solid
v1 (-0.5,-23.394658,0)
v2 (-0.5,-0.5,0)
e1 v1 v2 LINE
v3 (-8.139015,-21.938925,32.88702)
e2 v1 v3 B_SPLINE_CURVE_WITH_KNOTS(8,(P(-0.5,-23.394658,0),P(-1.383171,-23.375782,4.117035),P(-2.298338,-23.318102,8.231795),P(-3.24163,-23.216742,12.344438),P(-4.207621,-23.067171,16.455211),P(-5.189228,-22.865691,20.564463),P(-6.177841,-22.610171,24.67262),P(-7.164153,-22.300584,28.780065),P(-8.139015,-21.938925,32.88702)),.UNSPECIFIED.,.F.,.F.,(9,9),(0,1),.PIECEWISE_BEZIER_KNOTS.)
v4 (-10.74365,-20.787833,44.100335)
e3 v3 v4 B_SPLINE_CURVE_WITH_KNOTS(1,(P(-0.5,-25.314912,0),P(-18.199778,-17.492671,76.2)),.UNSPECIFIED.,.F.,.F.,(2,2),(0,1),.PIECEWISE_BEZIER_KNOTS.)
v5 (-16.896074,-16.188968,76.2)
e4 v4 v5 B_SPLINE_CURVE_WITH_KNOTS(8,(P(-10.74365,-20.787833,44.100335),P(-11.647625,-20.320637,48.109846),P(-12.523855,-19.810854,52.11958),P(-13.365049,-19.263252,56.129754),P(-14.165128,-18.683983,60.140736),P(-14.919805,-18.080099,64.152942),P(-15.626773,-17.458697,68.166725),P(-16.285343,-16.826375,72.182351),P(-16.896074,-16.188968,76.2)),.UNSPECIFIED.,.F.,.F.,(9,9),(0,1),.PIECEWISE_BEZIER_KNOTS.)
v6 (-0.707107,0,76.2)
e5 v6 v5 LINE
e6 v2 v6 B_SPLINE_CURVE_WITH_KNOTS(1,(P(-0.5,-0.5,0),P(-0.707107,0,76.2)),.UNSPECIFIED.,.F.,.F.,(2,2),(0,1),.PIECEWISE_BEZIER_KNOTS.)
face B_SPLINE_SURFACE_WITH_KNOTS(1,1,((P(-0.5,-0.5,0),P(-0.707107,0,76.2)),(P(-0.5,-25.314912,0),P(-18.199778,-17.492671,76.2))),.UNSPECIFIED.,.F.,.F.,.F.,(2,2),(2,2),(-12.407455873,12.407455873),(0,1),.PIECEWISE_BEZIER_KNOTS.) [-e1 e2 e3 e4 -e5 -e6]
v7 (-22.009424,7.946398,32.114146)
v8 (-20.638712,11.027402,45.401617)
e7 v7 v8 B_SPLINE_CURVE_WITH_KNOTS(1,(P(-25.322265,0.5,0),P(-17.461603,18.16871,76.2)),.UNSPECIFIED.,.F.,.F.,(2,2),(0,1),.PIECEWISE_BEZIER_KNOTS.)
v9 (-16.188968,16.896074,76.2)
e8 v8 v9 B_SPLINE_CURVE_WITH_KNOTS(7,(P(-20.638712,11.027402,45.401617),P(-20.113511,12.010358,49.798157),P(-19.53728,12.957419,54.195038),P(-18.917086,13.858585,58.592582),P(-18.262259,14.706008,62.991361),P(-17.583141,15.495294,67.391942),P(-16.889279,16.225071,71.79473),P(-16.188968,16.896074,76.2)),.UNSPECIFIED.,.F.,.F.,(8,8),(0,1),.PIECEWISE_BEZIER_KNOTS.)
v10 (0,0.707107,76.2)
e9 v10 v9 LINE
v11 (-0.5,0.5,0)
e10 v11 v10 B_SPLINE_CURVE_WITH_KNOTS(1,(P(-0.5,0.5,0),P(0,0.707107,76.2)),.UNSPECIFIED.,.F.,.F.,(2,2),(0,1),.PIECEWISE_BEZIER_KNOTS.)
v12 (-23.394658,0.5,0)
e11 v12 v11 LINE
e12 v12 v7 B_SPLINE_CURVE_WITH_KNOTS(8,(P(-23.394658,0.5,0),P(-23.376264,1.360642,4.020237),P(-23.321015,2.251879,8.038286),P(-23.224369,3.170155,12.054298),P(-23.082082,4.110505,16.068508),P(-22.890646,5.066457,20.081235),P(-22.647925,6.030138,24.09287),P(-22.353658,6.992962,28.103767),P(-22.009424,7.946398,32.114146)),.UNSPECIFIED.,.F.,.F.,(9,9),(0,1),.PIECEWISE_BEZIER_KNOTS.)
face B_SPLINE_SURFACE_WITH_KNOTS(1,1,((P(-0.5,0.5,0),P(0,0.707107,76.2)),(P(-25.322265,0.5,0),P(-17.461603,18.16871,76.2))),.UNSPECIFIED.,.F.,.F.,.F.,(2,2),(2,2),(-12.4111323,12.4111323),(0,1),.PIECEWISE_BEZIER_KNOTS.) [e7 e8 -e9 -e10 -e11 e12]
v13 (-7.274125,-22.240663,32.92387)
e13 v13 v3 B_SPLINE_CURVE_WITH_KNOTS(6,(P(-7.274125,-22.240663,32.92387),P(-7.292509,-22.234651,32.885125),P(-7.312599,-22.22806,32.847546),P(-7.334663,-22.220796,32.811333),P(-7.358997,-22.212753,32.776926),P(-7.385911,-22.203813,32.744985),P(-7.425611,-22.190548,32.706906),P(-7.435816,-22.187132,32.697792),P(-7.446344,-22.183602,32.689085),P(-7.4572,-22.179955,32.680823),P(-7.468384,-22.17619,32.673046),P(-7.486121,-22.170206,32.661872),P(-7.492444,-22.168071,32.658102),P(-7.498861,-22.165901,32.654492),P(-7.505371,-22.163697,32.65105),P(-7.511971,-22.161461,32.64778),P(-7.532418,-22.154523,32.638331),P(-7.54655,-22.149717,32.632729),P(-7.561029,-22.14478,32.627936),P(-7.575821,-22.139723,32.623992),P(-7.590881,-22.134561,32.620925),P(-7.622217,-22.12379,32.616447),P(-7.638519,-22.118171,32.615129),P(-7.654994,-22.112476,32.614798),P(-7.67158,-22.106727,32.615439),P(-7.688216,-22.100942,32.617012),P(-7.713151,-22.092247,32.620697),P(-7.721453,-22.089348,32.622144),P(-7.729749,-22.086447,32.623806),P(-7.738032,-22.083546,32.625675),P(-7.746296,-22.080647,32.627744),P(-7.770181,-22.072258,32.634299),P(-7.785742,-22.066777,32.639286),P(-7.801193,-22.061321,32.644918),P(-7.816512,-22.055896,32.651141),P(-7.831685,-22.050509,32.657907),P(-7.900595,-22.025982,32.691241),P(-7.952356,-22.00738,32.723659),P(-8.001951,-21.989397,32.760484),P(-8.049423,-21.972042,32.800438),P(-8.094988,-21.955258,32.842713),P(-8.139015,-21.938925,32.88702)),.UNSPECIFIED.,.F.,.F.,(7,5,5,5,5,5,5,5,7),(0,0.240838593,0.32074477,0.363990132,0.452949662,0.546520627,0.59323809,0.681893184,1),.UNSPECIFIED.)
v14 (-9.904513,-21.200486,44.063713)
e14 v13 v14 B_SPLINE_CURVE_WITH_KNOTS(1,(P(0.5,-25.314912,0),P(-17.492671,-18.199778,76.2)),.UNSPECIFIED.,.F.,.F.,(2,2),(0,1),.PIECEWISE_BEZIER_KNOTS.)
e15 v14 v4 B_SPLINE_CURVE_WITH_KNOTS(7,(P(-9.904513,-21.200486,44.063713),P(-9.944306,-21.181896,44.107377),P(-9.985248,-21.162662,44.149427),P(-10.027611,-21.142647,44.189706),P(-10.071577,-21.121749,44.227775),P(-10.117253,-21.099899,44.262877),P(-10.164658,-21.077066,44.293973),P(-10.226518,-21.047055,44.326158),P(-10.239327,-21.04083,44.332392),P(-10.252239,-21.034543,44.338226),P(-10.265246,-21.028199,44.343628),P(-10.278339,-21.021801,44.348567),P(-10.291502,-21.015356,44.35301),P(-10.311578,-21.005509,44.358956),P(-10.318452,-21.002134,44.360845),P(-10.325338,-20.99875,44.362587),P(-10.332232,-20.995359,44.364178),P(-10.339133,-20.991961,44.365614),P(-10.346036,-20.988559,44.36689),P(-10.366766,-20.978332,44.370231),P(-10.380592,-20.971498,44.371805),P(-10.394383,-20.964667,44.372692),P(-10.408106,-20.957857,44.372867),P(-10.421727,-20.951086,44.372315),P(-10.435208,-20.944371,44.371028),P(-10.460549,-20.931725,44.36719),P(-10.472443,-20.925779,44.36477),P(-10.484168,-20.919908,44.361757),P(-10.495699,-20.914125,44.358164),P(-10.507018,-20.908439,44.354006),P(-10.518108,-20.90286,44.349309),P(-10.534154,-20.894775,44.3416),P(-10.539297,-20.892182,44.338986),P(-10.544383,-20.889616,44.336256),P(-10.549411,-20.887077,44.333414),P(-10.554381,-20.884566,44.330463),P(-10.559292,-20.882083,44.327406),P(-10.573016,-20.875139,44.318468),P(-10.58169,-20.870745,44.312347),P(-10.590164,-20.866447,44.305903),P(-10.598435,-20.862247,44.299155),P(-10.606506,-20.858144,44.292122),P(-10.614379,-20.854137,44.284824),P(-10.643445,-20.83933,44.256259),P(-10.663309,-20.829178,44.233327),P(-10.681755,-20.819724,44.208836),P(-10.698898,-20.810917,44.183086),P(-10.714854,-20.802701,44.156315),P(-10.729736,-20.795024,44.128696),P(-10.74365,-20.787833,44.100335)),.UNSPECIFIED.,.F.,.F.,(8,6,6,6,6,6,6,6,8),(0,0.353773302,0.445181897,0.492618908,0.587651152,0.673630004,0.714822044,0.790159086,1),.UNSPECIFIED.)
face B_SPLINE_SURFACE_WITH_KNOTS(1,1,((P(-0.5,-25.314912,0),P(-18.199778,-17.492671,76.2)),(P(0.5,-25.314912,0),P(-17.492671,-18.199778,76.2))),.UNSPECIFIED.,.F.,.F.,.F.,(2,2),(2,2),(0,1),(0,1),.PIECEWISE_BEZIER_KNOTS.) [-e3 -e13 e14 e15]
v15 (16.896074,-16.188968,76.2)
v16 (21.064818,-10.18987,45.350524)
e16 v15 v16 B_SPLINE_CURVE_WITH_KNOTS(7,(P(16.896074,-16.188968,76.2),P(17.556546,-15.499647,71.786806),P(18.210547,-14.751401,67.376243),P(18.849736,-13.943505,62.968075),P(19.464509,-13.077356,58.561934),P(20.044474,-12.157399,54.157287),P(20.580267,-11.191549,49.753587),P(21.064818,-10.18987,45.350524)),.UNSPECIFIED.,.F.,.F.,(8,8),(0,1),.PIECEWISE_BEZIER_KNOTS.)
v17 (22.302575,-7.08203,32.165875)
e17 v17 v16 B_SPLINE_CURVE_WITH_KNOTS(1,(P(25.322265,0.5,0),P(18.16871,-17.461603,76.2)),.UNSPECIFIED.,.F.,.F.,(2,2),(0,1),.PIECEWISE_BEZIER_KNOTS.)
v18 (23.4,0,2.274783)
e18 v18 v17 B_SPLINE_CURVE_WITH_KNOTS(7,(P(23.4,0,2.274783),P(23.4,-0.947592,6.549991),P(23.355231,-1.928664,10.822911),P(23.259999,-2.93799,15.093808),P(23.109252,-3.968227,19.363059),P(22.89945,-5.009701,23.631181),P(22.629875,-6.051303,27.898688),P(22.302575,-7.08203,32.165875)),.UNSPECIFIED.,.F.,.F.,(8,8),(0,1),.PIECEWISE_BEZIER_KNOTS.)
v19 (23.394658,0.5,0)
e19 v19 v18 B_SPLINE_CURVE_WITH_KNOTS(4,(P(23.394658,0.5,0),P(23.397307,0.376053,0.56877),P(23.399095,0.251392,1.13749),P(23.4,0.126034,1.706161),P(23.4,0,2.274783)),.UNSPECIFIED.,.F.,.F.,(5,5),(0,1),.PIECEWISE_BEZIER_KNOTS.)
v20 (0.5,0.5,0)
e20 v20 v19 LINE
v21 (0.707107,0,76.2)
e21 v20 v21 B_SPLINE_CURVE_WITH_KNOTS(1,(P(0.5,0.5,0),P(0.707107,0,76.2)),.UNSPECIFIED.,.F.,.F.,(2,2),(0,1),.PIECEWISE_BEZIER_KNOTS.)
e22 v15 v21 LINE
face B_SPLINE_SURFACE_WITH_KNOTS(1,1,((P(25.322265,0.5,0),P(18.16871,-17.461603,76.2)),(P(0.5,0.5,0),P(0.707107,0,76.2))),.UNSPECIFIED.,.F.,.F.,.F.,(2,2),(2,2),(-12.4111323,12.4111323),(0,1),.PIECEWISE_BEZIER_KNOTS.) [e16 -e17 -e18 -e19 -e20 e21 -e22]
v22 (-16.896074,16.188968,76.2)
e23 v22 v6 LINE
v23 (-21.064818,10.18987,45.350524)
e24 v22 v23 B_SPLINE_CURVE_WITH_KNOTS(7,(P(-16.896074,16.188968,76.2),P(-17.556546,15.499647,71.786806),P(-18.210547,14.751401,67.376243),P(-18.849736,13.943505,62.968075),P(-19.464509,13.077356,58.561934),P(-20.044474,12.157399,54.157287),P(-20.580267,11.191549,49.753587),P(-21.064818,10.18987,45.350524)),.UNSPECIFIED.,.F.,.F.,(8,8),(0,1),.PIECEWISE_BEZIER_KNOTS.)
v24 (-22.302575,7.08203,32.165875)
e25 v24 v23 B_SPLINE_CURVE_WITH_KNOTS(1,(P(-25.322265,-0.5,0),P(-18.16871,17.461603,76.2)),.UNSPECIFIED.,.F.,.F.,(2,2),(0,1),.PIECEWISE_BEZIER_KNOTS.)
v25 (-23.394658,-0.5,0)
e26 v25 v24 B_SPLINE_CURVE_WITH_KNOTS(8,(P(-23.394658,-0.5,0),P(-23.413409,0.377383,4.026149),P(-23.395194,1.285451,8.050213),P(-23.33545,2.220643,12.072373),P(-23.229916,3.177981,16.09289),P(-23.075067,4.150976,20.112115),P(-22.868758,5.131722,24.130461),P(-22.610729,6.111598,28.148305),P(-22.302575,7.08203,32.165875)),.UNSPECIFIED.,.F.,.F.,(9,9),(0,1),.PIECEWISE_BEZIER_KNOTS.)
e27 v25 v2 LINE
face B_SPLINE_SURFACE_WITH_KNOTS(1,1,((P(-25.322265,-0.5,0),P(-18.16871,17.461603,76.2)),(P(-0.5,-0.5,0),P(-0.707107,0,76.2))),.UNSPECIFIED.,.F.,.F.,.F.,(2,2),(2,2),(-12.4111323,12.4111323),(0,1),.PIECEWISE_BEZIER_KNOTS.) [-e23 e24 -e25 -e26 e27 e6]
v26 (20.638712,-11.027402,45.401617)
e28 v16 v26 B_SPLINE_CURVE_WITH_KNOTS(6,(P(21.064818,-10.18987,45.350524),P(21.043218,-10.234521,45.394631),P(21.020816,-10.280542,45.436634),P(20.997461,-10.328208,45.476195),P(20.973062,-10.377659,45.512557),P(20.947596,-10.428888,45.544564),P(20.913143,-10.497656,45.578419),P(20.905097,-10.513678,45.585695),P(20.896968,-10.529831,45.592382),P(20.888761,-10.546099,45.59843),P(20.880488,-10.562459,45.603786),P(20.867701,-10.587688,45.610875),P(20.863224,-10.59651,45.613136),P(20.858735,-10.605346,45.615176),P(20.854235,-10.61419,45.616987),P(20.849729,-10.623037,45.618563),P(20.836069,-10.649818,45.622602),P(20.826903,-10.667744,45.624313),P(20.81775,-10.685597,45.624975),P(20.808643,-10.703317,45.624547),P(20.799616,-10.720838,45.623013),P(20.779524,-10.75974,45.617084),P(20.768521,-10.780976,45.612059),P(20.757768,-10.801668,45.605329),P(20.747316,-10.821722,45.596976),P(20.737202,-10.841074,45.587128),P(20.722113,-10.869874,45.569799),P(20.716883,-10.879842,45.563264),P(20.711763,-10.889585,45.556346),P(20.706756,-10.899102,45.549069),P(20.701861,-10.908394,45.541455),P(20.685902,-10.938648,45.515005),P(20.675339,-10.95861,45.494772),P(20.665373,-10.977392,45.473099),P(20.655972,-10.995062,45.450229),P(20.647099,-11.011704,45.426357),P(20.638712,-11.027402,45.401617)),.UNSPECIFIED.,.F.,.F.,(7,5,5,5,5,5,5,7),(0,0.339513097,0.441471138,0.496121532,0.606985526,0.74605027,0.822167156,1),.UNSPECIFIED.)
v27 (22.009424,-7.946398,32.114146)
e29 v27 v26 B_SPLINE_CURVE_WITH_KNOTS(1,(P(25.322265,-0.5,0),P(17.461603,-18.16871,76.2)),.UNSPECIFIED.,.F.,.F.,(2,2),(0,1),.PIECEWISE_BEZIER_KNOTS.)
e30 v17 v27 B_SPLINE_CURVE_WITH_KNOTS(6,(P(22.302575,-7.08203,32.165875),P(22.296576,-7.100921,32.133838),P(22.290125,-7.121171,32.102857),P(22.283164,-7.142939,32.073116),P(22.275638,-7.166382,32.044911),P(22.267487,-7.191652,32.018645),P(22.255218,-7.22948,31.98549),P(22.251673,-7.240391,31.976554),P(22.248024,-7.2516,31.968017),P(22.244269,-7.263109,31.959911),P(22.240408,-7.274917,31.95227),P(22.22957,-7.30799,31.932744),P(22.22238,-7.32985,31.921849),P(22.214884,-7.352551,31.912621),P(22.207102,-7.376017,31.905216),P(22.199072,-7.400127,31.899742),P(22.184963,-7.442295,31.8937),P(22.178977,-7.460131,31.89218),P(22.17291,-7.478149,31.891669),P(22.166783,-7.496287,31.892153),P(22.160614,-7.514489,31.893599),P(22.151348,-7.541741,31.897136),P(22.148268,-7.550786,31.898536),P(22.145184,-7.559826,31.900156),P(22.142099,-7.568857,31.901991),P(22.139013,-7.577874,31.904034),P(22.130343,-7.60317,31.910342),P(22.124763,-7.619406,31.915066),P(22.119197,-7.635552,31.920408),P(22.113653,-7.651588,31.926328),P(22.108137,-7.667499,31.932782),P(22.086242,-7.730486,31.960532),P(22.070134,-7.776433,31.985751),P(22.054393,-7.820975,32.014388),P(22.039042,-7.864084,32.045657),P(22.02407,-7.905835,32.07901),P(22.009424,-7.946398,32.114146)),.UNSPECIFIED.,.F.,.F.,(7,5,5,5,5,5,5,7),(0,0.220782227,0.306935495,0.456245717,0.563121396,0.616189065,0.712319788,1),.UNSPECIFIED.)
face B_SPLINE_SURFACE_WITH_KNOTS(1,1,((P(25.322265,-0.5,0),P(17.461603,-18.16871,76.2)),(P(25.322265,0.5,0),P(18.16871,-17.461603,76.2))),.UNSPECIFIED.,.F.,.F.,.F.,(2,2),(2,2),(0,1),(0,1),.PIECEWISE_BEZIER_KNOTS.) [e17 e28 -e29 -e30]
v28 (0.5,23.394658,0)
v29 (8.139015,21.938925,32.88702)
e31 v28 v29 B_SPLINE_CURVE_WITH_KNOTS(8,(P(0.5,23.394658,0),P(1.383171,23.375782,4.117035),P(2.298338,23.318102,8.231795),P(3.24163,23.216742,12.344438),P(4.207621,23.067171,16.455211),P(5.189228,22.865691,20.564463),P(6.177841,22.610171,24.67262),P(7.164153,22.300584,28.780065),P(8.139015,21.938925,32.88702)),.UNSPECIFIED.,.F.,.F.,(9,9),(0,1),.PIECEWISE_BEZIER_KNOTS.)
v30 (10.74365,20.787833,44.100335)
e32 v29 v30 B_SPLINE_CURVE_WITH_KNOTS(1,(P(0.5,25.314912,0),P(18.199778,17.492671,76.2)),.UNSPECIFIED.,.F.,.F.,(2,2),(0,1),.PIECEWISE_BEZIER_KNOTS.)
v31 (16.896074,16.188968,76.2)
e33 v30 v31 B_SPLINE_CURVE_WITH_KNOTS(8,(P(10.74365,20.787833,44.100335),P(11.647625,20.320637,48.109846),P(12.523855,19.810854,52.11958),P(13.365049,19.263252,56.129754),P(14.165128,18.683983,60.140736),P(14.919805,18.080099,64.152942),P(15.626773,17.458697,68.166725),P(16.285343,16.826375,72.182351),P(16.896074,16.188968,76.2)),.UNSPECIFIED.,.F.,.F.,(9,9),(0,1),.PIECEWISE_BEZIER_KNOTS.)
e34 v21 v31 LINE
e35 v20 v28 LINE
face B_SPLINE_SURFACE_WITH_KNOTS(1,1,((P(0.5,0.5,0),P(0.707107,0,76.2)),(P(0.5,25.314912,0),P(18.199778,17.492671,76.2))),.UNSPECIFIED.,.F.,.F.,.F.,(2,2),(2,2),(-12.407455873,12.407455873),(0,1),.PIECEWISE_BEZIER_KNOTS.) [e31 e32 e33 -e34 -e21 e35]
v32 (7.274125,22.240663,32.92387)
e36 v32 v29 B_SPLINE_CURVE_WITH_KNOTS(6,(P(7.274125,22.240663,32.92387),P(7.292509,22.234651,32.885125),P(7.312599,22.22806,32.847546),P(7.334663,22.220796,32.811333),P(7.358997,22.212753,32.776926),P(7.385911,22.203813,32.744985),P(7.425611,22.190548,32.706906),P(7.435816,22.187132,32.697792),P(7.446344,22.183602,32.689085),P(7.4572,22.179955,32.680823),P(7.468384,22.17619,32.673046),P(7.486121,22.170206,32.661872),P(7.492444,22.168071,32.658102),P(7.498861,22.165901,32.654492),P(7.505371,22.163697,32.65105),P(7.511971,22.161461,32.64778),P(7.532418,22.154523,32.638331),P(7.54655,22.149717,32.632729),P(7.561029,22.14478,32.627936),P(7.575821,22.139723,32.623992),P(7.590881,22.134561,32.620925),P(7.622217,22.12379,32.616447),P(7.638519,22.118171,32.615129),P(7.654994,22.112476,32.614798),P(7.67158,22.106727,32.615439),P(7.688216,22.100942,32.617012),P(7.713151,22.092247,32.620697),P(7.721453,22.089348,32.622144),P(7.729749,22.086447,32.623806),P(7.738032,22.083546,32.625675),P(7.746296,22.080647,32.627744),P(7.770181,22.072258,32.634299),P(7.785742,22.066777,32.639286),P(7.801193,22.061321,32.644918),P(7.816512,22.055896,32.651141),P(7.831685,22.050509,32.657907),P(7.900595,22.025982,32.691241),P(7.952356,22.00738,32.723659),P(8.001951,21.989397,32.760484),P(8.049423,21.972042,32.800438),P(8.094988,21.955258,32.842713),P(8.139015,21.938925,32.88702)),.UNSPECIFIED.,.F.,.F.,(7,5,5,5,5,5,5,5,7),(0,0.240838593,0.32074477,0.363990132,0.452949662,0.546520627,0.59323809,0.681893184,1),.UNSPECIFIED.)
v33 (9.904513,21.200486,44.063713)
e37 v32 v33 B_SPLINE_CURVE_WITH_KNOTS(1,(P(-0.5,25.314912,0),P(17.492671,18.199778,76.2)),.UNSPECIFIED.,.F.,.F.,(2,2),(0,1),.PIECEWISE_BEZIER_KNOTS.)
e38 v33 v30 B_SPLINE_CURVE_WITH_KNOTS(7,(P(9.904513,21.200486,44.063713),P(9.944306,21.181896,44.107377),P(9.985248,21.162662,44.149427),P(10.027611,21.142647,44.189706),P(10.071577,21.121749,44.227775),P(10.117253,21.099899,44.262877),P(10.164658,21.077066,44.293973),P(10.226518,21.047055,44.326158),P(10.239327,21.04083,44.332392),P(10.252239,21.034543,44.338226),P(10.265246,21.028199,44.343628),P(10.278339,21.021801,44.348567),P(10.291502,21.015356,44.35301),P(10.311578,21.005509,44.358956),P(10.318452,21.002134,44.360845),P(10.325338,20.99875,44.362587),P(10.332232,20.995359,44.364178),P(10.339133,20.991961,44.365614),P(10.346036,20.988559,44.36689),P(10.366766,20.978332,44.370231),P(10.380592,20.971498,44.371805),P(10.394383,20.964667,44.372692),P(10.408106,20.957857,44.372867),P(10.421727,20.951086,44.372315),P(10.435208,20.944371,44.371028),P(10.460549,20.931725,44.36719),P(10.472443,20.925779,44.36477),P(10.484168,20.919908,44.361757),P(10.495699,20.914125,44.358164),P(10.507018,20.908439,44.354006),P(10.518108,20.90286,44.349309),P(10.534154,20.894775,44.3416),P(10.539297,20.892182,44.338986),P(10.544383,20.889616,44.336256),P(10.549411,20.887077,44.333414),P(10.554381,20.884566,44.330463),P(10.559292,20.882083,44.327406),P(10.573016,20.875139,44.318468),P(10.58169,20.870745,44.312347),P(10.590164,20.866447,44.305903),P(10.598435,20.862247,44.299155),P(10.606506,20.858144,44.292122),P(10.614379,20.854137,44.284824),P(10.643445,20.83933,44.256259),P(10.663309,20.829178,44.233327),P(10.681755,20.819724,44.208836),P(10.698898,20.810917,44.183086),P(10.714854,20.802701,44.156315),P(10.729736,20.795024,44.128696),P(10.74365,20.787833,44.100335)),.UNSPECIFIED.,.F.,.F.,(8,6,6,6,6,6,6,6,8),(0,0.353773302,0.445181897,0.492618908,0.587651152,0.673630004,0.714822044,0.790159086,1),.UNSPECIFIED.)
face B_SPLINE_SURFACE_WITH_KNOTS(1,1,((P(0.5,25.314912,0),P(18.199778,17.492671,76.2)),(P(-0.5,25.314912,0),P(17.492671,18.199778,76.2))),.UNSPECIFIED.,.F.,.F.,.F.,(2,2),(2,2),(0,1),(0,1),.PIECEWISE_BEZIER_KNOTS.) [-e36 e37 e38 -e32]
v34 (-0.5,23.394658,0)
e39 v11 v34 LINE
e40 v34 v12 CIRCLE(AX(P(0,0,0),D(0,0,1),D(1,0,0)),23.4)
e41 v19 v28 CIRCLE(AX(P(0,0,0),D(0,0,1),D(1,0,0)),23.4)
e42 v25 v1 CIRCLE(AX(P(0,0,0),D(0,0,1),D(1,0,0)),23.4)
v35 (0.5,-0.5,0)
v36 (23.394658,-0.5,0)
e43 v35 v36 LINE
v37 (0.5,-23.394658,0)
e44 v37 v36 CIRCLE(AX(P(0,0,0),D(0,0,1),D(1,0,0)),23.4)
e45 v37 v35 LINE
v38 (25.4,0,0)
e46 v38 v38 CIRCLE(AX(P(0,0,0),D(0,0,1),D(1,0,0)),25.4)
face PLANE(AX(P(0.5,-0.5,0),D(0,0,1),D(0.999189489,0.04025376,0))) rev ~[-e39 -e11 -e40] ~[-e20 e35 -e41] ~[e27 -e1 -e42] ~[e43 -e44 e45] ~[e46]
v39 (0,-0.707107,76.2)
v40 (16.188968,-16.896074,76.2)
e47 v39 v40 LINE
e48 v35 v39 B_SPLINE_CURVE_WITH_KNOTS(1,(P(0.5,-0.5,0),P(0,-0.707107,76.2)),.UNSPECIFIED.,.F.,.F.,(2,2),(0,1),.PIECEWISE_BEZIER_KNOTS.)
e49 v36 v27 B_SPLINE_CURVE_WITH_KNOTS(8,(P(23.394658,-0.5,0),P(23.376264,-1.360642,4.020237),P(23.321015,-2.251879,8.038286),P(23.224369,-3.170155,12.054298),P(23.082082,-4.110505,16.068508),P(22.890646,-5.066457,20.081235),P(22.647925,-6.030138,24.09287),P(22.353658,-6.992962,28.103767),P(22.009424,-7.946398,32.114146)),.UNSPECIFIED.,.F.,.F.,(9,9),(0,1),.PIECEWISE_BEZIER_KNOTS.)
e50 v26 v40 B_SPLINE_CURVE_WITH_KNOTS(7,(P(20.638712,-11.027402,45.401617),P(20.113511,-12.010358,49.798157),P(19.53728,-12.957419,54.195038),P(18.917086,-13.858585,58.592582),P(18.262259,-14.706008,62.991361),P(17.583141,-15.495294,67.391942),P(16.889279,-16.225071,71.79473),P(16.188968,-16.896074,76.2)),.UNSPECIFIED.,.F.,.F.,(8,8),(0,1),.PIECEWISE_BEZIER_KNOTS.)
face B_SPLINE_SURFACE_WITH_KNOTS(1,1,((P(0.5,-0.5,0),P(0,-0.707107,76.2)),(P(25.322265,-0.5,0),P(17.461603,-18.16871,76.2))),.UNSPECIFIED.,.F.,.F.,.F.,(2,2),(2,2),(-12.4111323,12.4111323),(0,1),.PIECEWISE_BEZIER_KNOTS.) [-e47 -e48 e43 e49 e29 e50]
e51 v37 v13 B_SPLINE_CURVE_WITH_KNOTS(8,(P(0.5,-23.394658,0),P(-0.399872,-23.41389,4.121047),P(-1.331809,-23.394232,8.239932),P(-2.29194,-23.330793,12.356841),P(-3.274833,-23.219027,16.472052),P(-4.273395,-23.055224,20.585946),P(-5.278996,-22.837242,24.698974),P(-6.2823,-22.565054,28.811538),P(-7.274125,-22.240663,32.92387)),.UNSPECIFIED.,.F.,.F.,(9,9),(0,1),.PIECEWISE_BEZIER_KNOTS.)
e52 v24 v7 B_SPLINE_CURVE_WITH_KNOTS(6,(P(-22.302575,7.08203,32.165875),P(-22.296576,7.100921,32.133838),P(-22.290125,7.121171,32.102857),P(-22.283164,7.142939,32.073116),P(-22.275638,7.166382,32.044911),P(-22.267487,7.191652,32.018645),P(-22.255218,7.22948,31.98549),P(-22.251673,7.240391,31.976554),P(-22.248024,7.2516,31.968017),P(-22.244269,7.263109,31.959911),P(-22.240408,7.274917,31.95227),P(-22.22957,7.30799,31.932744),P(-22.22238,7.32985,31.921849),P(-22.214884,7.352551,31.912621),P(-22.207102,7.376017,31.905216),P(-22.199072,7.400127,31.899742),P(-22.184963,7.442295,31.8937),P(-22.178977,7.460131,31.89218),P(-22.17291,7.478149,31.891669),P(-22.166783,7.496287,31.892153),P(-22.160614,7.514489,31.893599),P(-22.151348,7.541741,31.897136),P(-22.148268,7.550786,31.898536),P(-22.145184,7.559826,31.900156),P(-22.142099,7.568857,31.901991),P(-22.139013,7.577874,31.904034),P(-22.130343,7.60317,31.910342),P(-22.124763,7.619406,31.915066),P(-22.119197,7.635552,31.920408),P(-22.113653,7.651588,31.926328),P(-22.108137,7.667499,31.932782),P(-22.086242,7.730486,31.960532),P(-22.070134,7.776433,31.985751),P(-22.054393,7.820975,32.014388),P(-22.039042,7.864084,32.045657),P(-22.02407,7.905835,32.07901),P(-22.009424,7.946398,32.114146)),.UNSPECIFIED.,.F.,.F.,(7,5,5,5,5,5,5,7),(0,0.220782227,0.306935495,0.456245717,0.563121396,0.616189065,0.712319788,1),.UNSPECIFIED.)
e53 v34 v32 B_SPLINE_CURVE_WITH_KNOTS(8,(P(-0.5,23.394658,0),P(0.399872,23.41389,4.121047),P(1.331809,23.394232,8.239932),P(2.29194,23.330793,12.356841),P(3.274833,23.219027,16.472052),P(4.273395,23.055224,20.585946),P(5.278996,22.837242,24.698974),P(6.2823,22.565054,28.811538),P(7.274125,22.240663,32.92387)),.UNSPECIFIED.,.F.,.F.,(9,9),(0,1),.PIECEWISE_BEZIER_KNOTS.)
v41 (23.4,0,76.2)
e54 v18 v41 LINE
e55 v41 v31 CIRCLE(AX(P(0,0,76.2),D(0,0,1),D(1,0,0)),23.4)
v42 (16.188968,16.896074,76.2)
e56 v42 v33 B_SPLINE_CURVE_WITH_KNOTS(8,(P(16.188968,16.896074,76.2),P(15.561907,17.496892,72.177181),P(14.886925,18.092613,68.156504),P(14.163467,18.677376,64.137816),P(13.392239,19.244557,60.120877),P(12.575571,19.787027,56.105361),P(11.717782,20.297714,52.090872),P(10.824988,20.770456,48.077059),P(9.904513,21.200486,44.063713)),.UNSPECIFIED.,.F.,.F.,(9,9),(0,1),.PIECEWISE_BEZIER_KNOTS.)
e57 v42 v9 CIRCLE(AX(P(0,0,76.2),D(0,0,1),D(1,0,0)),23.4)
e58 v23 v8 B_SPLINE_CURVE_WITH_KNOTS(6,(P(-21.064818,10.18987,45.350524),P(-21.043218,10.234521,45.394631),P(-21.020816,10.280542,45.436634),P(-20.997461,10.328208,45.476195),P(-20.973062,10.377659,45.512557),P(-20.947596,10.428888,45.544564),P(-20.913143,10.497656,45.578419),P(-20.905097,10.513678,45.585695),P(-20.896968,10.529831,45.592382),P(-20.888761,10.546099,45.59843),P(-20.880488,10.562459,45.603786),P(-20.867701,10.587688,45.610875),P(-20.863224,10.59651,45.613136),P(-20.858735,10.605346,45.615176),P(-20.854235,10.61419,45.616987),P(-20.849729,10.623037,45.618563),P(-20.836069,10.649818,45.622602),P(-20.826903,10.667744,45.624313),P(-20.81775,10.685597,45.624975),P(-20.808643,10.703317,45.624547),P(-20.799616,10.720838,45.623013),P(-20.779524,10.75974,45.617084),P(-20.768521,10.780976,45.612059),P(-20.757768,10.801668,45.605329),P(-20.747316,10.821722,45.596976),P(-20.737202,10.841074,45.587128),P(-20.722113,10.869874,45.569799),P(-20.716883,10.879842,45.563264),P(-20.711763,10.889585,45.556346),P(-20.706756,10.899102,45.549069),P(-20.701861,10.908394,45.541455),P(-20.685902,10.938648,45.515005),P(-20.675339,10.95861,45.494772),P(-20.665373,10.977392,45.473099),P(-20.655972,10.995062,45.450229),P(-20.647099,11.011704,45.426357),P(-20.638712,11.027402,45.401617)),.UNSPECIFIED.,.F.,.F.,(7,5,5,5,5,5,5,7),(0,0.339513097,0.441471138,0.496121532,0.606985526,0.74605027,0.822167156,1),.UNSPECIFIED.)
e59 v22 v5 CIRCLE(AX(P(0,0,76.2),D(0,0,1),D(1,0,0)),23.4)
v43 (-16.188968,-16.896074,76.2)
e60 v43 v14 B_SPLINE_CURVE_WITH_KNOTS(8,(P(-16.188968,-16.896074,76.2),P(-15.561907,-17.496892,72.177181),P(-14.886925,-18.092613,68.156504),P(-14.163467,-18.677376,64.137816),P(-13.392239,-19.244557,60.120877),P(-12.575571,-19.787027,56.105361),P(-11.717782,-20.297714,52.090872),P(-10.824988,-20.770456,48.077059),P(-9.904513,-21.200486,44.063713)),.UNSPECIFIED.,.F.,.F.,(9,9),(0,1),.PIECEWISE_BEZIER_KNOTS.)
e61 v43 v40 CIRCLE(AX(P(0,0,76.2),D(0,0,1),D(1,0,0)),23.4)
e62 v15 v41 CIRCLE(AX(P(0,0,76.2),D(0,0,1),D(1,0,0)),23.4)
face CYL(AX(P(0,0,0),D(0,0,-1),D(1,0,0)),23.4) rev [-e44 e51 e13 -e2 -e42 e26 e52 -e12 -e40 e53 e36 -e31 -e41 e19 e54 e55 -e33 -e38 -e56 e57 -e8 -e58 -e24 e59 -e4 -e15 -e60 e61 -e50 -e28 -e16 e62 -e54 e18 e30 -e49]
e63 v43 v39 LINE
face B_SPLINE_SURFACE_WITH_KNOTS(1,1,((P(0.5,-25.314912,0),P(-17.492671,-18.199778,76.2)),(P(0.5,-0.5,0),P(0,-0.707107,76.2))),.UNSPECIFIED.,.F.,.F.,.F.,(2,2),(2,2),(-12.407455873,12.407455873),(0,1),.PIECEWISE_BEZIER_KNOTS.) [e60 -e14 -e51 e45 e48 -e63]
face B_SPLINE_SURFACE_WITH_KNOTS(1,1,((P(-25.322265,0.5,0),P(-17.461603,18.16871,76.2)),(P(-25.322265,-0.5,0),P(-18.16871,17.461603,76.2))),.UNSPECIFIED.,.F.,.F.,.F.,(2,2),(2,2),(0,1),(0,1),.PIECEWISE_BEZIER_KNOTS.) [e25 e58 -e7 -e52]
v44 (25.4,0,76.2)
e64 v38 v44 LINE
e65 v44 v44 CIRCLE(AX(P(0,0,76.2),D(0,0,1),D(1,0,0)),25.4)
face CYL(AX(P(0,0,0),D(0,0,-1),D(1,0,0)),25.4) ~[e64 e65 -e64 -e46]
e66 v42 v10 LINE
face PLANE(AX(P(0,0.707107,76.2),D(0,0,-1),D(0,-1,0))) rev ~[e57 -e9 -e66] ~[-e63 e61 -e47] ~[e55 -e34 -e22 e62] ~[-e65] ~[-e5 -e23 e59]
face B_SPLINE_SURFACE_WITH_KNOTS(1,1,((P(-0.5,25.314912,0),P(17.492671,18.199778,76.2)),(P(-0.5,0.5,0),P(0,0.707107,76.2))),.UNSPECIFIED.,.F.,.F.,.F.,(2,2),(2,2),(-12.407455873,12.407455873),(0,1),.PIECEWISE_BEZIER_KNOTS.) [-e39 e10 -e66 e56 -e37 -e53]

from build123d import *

# Parameters (mm, degrees)
F0_R     = 25.4
F0_R_2   = 23.4
F1_DEPTH = 76.2
F2_W     = 1
F2_H     = 24.8149117469
F2_W_2   = 24.8222645992
F2_H_2   = 1


with BuildPart() as f1:
    # F0 (on Top) → F1 (new body)
    with BuildSketch(Plane.XY):
        Circle(F0_R)
        Circle(F0_R_2, mode=Mode.SUBTRACT)
    extrude(amount=F1_DEPTH)

    # F2 (on Top) → F5 section 0
    with BuildSketch(Plane.XY):
        with Locations((0, -12.9074558734)):
            Rectangle(F2_W, F2_H)
    # F4 (on offset) → F5 section 1
    with BuildSketch(Plane.XY.offset(76.2)):
        Polygon((0, -0.7071067812), (-0.7071067812, 0), (-18.1997778835, -17.4926711023), (-17.4926711023, -18.1997778835), align=None)
    loft()

    # F2 (on Top) → F6 section 0
    with BuildSketch(Plane.XY):
        with Locations((-12.9111322996, 0)):
            Rectangle(F2_W_2, F2_H_2)
    # F4 (on offset) → F6 section 1
    with BuildSketch(Plane.XY.offset(76.2)):
        Polygon((-17.4616031125, 18.1687098937), (-18.1687098937, 17.4616031125), (-0.7071067812, 0), (0, 0.7071067812), align=None)
    loft()

    # F2 (on Top) → F7 section 0
    with BuildSketch(Plane.XY):
        with Locations((0, 12.9074558734)):
            Rectangle(F2_W, F2_H)
    # F4 (on offset) → F7 section 1
    with BuildSketch(Plane.XY.offset(76.2)):
        Polygon((17.4926711023, 18.1997778835), (0, 0.7071067812), (0.7071067812, 0), (18.1997778835, 17.4926711023), align=None)
    loft()

    # F2 (on Top) → F8 section 0
    with BuildSketch(Plane.XY):
        with Locations((12.9111322996, 0)):
            Rectangle(F2_W_2, F2_H_2)
    # F4 (on offset) → F8 section 1
    with BuildSketch(Plane.XY.offset(76.2)):
        Polygon((0.7071067812, 0), (0, -0.7071067812), (17.4616031125, -18.1687098937), (18.1687098937, -17.4616031125), align=None)
    loft()

    # F4 (on offset) → F9 section 0
    with BuildSketch(Plane.XY.offset(76.2)):
        Polygon((0, 0.7071067812), (-0.7071067812, 0), (0, -0.7071067812), (0.7071067812, 0), align=None)
    # F2 (on Top) → F9 section 1
    with BuildSketch(Plane.XY):
        Rectangle(F2_W, F2_H_2)
    loft()


solid = f1.part
